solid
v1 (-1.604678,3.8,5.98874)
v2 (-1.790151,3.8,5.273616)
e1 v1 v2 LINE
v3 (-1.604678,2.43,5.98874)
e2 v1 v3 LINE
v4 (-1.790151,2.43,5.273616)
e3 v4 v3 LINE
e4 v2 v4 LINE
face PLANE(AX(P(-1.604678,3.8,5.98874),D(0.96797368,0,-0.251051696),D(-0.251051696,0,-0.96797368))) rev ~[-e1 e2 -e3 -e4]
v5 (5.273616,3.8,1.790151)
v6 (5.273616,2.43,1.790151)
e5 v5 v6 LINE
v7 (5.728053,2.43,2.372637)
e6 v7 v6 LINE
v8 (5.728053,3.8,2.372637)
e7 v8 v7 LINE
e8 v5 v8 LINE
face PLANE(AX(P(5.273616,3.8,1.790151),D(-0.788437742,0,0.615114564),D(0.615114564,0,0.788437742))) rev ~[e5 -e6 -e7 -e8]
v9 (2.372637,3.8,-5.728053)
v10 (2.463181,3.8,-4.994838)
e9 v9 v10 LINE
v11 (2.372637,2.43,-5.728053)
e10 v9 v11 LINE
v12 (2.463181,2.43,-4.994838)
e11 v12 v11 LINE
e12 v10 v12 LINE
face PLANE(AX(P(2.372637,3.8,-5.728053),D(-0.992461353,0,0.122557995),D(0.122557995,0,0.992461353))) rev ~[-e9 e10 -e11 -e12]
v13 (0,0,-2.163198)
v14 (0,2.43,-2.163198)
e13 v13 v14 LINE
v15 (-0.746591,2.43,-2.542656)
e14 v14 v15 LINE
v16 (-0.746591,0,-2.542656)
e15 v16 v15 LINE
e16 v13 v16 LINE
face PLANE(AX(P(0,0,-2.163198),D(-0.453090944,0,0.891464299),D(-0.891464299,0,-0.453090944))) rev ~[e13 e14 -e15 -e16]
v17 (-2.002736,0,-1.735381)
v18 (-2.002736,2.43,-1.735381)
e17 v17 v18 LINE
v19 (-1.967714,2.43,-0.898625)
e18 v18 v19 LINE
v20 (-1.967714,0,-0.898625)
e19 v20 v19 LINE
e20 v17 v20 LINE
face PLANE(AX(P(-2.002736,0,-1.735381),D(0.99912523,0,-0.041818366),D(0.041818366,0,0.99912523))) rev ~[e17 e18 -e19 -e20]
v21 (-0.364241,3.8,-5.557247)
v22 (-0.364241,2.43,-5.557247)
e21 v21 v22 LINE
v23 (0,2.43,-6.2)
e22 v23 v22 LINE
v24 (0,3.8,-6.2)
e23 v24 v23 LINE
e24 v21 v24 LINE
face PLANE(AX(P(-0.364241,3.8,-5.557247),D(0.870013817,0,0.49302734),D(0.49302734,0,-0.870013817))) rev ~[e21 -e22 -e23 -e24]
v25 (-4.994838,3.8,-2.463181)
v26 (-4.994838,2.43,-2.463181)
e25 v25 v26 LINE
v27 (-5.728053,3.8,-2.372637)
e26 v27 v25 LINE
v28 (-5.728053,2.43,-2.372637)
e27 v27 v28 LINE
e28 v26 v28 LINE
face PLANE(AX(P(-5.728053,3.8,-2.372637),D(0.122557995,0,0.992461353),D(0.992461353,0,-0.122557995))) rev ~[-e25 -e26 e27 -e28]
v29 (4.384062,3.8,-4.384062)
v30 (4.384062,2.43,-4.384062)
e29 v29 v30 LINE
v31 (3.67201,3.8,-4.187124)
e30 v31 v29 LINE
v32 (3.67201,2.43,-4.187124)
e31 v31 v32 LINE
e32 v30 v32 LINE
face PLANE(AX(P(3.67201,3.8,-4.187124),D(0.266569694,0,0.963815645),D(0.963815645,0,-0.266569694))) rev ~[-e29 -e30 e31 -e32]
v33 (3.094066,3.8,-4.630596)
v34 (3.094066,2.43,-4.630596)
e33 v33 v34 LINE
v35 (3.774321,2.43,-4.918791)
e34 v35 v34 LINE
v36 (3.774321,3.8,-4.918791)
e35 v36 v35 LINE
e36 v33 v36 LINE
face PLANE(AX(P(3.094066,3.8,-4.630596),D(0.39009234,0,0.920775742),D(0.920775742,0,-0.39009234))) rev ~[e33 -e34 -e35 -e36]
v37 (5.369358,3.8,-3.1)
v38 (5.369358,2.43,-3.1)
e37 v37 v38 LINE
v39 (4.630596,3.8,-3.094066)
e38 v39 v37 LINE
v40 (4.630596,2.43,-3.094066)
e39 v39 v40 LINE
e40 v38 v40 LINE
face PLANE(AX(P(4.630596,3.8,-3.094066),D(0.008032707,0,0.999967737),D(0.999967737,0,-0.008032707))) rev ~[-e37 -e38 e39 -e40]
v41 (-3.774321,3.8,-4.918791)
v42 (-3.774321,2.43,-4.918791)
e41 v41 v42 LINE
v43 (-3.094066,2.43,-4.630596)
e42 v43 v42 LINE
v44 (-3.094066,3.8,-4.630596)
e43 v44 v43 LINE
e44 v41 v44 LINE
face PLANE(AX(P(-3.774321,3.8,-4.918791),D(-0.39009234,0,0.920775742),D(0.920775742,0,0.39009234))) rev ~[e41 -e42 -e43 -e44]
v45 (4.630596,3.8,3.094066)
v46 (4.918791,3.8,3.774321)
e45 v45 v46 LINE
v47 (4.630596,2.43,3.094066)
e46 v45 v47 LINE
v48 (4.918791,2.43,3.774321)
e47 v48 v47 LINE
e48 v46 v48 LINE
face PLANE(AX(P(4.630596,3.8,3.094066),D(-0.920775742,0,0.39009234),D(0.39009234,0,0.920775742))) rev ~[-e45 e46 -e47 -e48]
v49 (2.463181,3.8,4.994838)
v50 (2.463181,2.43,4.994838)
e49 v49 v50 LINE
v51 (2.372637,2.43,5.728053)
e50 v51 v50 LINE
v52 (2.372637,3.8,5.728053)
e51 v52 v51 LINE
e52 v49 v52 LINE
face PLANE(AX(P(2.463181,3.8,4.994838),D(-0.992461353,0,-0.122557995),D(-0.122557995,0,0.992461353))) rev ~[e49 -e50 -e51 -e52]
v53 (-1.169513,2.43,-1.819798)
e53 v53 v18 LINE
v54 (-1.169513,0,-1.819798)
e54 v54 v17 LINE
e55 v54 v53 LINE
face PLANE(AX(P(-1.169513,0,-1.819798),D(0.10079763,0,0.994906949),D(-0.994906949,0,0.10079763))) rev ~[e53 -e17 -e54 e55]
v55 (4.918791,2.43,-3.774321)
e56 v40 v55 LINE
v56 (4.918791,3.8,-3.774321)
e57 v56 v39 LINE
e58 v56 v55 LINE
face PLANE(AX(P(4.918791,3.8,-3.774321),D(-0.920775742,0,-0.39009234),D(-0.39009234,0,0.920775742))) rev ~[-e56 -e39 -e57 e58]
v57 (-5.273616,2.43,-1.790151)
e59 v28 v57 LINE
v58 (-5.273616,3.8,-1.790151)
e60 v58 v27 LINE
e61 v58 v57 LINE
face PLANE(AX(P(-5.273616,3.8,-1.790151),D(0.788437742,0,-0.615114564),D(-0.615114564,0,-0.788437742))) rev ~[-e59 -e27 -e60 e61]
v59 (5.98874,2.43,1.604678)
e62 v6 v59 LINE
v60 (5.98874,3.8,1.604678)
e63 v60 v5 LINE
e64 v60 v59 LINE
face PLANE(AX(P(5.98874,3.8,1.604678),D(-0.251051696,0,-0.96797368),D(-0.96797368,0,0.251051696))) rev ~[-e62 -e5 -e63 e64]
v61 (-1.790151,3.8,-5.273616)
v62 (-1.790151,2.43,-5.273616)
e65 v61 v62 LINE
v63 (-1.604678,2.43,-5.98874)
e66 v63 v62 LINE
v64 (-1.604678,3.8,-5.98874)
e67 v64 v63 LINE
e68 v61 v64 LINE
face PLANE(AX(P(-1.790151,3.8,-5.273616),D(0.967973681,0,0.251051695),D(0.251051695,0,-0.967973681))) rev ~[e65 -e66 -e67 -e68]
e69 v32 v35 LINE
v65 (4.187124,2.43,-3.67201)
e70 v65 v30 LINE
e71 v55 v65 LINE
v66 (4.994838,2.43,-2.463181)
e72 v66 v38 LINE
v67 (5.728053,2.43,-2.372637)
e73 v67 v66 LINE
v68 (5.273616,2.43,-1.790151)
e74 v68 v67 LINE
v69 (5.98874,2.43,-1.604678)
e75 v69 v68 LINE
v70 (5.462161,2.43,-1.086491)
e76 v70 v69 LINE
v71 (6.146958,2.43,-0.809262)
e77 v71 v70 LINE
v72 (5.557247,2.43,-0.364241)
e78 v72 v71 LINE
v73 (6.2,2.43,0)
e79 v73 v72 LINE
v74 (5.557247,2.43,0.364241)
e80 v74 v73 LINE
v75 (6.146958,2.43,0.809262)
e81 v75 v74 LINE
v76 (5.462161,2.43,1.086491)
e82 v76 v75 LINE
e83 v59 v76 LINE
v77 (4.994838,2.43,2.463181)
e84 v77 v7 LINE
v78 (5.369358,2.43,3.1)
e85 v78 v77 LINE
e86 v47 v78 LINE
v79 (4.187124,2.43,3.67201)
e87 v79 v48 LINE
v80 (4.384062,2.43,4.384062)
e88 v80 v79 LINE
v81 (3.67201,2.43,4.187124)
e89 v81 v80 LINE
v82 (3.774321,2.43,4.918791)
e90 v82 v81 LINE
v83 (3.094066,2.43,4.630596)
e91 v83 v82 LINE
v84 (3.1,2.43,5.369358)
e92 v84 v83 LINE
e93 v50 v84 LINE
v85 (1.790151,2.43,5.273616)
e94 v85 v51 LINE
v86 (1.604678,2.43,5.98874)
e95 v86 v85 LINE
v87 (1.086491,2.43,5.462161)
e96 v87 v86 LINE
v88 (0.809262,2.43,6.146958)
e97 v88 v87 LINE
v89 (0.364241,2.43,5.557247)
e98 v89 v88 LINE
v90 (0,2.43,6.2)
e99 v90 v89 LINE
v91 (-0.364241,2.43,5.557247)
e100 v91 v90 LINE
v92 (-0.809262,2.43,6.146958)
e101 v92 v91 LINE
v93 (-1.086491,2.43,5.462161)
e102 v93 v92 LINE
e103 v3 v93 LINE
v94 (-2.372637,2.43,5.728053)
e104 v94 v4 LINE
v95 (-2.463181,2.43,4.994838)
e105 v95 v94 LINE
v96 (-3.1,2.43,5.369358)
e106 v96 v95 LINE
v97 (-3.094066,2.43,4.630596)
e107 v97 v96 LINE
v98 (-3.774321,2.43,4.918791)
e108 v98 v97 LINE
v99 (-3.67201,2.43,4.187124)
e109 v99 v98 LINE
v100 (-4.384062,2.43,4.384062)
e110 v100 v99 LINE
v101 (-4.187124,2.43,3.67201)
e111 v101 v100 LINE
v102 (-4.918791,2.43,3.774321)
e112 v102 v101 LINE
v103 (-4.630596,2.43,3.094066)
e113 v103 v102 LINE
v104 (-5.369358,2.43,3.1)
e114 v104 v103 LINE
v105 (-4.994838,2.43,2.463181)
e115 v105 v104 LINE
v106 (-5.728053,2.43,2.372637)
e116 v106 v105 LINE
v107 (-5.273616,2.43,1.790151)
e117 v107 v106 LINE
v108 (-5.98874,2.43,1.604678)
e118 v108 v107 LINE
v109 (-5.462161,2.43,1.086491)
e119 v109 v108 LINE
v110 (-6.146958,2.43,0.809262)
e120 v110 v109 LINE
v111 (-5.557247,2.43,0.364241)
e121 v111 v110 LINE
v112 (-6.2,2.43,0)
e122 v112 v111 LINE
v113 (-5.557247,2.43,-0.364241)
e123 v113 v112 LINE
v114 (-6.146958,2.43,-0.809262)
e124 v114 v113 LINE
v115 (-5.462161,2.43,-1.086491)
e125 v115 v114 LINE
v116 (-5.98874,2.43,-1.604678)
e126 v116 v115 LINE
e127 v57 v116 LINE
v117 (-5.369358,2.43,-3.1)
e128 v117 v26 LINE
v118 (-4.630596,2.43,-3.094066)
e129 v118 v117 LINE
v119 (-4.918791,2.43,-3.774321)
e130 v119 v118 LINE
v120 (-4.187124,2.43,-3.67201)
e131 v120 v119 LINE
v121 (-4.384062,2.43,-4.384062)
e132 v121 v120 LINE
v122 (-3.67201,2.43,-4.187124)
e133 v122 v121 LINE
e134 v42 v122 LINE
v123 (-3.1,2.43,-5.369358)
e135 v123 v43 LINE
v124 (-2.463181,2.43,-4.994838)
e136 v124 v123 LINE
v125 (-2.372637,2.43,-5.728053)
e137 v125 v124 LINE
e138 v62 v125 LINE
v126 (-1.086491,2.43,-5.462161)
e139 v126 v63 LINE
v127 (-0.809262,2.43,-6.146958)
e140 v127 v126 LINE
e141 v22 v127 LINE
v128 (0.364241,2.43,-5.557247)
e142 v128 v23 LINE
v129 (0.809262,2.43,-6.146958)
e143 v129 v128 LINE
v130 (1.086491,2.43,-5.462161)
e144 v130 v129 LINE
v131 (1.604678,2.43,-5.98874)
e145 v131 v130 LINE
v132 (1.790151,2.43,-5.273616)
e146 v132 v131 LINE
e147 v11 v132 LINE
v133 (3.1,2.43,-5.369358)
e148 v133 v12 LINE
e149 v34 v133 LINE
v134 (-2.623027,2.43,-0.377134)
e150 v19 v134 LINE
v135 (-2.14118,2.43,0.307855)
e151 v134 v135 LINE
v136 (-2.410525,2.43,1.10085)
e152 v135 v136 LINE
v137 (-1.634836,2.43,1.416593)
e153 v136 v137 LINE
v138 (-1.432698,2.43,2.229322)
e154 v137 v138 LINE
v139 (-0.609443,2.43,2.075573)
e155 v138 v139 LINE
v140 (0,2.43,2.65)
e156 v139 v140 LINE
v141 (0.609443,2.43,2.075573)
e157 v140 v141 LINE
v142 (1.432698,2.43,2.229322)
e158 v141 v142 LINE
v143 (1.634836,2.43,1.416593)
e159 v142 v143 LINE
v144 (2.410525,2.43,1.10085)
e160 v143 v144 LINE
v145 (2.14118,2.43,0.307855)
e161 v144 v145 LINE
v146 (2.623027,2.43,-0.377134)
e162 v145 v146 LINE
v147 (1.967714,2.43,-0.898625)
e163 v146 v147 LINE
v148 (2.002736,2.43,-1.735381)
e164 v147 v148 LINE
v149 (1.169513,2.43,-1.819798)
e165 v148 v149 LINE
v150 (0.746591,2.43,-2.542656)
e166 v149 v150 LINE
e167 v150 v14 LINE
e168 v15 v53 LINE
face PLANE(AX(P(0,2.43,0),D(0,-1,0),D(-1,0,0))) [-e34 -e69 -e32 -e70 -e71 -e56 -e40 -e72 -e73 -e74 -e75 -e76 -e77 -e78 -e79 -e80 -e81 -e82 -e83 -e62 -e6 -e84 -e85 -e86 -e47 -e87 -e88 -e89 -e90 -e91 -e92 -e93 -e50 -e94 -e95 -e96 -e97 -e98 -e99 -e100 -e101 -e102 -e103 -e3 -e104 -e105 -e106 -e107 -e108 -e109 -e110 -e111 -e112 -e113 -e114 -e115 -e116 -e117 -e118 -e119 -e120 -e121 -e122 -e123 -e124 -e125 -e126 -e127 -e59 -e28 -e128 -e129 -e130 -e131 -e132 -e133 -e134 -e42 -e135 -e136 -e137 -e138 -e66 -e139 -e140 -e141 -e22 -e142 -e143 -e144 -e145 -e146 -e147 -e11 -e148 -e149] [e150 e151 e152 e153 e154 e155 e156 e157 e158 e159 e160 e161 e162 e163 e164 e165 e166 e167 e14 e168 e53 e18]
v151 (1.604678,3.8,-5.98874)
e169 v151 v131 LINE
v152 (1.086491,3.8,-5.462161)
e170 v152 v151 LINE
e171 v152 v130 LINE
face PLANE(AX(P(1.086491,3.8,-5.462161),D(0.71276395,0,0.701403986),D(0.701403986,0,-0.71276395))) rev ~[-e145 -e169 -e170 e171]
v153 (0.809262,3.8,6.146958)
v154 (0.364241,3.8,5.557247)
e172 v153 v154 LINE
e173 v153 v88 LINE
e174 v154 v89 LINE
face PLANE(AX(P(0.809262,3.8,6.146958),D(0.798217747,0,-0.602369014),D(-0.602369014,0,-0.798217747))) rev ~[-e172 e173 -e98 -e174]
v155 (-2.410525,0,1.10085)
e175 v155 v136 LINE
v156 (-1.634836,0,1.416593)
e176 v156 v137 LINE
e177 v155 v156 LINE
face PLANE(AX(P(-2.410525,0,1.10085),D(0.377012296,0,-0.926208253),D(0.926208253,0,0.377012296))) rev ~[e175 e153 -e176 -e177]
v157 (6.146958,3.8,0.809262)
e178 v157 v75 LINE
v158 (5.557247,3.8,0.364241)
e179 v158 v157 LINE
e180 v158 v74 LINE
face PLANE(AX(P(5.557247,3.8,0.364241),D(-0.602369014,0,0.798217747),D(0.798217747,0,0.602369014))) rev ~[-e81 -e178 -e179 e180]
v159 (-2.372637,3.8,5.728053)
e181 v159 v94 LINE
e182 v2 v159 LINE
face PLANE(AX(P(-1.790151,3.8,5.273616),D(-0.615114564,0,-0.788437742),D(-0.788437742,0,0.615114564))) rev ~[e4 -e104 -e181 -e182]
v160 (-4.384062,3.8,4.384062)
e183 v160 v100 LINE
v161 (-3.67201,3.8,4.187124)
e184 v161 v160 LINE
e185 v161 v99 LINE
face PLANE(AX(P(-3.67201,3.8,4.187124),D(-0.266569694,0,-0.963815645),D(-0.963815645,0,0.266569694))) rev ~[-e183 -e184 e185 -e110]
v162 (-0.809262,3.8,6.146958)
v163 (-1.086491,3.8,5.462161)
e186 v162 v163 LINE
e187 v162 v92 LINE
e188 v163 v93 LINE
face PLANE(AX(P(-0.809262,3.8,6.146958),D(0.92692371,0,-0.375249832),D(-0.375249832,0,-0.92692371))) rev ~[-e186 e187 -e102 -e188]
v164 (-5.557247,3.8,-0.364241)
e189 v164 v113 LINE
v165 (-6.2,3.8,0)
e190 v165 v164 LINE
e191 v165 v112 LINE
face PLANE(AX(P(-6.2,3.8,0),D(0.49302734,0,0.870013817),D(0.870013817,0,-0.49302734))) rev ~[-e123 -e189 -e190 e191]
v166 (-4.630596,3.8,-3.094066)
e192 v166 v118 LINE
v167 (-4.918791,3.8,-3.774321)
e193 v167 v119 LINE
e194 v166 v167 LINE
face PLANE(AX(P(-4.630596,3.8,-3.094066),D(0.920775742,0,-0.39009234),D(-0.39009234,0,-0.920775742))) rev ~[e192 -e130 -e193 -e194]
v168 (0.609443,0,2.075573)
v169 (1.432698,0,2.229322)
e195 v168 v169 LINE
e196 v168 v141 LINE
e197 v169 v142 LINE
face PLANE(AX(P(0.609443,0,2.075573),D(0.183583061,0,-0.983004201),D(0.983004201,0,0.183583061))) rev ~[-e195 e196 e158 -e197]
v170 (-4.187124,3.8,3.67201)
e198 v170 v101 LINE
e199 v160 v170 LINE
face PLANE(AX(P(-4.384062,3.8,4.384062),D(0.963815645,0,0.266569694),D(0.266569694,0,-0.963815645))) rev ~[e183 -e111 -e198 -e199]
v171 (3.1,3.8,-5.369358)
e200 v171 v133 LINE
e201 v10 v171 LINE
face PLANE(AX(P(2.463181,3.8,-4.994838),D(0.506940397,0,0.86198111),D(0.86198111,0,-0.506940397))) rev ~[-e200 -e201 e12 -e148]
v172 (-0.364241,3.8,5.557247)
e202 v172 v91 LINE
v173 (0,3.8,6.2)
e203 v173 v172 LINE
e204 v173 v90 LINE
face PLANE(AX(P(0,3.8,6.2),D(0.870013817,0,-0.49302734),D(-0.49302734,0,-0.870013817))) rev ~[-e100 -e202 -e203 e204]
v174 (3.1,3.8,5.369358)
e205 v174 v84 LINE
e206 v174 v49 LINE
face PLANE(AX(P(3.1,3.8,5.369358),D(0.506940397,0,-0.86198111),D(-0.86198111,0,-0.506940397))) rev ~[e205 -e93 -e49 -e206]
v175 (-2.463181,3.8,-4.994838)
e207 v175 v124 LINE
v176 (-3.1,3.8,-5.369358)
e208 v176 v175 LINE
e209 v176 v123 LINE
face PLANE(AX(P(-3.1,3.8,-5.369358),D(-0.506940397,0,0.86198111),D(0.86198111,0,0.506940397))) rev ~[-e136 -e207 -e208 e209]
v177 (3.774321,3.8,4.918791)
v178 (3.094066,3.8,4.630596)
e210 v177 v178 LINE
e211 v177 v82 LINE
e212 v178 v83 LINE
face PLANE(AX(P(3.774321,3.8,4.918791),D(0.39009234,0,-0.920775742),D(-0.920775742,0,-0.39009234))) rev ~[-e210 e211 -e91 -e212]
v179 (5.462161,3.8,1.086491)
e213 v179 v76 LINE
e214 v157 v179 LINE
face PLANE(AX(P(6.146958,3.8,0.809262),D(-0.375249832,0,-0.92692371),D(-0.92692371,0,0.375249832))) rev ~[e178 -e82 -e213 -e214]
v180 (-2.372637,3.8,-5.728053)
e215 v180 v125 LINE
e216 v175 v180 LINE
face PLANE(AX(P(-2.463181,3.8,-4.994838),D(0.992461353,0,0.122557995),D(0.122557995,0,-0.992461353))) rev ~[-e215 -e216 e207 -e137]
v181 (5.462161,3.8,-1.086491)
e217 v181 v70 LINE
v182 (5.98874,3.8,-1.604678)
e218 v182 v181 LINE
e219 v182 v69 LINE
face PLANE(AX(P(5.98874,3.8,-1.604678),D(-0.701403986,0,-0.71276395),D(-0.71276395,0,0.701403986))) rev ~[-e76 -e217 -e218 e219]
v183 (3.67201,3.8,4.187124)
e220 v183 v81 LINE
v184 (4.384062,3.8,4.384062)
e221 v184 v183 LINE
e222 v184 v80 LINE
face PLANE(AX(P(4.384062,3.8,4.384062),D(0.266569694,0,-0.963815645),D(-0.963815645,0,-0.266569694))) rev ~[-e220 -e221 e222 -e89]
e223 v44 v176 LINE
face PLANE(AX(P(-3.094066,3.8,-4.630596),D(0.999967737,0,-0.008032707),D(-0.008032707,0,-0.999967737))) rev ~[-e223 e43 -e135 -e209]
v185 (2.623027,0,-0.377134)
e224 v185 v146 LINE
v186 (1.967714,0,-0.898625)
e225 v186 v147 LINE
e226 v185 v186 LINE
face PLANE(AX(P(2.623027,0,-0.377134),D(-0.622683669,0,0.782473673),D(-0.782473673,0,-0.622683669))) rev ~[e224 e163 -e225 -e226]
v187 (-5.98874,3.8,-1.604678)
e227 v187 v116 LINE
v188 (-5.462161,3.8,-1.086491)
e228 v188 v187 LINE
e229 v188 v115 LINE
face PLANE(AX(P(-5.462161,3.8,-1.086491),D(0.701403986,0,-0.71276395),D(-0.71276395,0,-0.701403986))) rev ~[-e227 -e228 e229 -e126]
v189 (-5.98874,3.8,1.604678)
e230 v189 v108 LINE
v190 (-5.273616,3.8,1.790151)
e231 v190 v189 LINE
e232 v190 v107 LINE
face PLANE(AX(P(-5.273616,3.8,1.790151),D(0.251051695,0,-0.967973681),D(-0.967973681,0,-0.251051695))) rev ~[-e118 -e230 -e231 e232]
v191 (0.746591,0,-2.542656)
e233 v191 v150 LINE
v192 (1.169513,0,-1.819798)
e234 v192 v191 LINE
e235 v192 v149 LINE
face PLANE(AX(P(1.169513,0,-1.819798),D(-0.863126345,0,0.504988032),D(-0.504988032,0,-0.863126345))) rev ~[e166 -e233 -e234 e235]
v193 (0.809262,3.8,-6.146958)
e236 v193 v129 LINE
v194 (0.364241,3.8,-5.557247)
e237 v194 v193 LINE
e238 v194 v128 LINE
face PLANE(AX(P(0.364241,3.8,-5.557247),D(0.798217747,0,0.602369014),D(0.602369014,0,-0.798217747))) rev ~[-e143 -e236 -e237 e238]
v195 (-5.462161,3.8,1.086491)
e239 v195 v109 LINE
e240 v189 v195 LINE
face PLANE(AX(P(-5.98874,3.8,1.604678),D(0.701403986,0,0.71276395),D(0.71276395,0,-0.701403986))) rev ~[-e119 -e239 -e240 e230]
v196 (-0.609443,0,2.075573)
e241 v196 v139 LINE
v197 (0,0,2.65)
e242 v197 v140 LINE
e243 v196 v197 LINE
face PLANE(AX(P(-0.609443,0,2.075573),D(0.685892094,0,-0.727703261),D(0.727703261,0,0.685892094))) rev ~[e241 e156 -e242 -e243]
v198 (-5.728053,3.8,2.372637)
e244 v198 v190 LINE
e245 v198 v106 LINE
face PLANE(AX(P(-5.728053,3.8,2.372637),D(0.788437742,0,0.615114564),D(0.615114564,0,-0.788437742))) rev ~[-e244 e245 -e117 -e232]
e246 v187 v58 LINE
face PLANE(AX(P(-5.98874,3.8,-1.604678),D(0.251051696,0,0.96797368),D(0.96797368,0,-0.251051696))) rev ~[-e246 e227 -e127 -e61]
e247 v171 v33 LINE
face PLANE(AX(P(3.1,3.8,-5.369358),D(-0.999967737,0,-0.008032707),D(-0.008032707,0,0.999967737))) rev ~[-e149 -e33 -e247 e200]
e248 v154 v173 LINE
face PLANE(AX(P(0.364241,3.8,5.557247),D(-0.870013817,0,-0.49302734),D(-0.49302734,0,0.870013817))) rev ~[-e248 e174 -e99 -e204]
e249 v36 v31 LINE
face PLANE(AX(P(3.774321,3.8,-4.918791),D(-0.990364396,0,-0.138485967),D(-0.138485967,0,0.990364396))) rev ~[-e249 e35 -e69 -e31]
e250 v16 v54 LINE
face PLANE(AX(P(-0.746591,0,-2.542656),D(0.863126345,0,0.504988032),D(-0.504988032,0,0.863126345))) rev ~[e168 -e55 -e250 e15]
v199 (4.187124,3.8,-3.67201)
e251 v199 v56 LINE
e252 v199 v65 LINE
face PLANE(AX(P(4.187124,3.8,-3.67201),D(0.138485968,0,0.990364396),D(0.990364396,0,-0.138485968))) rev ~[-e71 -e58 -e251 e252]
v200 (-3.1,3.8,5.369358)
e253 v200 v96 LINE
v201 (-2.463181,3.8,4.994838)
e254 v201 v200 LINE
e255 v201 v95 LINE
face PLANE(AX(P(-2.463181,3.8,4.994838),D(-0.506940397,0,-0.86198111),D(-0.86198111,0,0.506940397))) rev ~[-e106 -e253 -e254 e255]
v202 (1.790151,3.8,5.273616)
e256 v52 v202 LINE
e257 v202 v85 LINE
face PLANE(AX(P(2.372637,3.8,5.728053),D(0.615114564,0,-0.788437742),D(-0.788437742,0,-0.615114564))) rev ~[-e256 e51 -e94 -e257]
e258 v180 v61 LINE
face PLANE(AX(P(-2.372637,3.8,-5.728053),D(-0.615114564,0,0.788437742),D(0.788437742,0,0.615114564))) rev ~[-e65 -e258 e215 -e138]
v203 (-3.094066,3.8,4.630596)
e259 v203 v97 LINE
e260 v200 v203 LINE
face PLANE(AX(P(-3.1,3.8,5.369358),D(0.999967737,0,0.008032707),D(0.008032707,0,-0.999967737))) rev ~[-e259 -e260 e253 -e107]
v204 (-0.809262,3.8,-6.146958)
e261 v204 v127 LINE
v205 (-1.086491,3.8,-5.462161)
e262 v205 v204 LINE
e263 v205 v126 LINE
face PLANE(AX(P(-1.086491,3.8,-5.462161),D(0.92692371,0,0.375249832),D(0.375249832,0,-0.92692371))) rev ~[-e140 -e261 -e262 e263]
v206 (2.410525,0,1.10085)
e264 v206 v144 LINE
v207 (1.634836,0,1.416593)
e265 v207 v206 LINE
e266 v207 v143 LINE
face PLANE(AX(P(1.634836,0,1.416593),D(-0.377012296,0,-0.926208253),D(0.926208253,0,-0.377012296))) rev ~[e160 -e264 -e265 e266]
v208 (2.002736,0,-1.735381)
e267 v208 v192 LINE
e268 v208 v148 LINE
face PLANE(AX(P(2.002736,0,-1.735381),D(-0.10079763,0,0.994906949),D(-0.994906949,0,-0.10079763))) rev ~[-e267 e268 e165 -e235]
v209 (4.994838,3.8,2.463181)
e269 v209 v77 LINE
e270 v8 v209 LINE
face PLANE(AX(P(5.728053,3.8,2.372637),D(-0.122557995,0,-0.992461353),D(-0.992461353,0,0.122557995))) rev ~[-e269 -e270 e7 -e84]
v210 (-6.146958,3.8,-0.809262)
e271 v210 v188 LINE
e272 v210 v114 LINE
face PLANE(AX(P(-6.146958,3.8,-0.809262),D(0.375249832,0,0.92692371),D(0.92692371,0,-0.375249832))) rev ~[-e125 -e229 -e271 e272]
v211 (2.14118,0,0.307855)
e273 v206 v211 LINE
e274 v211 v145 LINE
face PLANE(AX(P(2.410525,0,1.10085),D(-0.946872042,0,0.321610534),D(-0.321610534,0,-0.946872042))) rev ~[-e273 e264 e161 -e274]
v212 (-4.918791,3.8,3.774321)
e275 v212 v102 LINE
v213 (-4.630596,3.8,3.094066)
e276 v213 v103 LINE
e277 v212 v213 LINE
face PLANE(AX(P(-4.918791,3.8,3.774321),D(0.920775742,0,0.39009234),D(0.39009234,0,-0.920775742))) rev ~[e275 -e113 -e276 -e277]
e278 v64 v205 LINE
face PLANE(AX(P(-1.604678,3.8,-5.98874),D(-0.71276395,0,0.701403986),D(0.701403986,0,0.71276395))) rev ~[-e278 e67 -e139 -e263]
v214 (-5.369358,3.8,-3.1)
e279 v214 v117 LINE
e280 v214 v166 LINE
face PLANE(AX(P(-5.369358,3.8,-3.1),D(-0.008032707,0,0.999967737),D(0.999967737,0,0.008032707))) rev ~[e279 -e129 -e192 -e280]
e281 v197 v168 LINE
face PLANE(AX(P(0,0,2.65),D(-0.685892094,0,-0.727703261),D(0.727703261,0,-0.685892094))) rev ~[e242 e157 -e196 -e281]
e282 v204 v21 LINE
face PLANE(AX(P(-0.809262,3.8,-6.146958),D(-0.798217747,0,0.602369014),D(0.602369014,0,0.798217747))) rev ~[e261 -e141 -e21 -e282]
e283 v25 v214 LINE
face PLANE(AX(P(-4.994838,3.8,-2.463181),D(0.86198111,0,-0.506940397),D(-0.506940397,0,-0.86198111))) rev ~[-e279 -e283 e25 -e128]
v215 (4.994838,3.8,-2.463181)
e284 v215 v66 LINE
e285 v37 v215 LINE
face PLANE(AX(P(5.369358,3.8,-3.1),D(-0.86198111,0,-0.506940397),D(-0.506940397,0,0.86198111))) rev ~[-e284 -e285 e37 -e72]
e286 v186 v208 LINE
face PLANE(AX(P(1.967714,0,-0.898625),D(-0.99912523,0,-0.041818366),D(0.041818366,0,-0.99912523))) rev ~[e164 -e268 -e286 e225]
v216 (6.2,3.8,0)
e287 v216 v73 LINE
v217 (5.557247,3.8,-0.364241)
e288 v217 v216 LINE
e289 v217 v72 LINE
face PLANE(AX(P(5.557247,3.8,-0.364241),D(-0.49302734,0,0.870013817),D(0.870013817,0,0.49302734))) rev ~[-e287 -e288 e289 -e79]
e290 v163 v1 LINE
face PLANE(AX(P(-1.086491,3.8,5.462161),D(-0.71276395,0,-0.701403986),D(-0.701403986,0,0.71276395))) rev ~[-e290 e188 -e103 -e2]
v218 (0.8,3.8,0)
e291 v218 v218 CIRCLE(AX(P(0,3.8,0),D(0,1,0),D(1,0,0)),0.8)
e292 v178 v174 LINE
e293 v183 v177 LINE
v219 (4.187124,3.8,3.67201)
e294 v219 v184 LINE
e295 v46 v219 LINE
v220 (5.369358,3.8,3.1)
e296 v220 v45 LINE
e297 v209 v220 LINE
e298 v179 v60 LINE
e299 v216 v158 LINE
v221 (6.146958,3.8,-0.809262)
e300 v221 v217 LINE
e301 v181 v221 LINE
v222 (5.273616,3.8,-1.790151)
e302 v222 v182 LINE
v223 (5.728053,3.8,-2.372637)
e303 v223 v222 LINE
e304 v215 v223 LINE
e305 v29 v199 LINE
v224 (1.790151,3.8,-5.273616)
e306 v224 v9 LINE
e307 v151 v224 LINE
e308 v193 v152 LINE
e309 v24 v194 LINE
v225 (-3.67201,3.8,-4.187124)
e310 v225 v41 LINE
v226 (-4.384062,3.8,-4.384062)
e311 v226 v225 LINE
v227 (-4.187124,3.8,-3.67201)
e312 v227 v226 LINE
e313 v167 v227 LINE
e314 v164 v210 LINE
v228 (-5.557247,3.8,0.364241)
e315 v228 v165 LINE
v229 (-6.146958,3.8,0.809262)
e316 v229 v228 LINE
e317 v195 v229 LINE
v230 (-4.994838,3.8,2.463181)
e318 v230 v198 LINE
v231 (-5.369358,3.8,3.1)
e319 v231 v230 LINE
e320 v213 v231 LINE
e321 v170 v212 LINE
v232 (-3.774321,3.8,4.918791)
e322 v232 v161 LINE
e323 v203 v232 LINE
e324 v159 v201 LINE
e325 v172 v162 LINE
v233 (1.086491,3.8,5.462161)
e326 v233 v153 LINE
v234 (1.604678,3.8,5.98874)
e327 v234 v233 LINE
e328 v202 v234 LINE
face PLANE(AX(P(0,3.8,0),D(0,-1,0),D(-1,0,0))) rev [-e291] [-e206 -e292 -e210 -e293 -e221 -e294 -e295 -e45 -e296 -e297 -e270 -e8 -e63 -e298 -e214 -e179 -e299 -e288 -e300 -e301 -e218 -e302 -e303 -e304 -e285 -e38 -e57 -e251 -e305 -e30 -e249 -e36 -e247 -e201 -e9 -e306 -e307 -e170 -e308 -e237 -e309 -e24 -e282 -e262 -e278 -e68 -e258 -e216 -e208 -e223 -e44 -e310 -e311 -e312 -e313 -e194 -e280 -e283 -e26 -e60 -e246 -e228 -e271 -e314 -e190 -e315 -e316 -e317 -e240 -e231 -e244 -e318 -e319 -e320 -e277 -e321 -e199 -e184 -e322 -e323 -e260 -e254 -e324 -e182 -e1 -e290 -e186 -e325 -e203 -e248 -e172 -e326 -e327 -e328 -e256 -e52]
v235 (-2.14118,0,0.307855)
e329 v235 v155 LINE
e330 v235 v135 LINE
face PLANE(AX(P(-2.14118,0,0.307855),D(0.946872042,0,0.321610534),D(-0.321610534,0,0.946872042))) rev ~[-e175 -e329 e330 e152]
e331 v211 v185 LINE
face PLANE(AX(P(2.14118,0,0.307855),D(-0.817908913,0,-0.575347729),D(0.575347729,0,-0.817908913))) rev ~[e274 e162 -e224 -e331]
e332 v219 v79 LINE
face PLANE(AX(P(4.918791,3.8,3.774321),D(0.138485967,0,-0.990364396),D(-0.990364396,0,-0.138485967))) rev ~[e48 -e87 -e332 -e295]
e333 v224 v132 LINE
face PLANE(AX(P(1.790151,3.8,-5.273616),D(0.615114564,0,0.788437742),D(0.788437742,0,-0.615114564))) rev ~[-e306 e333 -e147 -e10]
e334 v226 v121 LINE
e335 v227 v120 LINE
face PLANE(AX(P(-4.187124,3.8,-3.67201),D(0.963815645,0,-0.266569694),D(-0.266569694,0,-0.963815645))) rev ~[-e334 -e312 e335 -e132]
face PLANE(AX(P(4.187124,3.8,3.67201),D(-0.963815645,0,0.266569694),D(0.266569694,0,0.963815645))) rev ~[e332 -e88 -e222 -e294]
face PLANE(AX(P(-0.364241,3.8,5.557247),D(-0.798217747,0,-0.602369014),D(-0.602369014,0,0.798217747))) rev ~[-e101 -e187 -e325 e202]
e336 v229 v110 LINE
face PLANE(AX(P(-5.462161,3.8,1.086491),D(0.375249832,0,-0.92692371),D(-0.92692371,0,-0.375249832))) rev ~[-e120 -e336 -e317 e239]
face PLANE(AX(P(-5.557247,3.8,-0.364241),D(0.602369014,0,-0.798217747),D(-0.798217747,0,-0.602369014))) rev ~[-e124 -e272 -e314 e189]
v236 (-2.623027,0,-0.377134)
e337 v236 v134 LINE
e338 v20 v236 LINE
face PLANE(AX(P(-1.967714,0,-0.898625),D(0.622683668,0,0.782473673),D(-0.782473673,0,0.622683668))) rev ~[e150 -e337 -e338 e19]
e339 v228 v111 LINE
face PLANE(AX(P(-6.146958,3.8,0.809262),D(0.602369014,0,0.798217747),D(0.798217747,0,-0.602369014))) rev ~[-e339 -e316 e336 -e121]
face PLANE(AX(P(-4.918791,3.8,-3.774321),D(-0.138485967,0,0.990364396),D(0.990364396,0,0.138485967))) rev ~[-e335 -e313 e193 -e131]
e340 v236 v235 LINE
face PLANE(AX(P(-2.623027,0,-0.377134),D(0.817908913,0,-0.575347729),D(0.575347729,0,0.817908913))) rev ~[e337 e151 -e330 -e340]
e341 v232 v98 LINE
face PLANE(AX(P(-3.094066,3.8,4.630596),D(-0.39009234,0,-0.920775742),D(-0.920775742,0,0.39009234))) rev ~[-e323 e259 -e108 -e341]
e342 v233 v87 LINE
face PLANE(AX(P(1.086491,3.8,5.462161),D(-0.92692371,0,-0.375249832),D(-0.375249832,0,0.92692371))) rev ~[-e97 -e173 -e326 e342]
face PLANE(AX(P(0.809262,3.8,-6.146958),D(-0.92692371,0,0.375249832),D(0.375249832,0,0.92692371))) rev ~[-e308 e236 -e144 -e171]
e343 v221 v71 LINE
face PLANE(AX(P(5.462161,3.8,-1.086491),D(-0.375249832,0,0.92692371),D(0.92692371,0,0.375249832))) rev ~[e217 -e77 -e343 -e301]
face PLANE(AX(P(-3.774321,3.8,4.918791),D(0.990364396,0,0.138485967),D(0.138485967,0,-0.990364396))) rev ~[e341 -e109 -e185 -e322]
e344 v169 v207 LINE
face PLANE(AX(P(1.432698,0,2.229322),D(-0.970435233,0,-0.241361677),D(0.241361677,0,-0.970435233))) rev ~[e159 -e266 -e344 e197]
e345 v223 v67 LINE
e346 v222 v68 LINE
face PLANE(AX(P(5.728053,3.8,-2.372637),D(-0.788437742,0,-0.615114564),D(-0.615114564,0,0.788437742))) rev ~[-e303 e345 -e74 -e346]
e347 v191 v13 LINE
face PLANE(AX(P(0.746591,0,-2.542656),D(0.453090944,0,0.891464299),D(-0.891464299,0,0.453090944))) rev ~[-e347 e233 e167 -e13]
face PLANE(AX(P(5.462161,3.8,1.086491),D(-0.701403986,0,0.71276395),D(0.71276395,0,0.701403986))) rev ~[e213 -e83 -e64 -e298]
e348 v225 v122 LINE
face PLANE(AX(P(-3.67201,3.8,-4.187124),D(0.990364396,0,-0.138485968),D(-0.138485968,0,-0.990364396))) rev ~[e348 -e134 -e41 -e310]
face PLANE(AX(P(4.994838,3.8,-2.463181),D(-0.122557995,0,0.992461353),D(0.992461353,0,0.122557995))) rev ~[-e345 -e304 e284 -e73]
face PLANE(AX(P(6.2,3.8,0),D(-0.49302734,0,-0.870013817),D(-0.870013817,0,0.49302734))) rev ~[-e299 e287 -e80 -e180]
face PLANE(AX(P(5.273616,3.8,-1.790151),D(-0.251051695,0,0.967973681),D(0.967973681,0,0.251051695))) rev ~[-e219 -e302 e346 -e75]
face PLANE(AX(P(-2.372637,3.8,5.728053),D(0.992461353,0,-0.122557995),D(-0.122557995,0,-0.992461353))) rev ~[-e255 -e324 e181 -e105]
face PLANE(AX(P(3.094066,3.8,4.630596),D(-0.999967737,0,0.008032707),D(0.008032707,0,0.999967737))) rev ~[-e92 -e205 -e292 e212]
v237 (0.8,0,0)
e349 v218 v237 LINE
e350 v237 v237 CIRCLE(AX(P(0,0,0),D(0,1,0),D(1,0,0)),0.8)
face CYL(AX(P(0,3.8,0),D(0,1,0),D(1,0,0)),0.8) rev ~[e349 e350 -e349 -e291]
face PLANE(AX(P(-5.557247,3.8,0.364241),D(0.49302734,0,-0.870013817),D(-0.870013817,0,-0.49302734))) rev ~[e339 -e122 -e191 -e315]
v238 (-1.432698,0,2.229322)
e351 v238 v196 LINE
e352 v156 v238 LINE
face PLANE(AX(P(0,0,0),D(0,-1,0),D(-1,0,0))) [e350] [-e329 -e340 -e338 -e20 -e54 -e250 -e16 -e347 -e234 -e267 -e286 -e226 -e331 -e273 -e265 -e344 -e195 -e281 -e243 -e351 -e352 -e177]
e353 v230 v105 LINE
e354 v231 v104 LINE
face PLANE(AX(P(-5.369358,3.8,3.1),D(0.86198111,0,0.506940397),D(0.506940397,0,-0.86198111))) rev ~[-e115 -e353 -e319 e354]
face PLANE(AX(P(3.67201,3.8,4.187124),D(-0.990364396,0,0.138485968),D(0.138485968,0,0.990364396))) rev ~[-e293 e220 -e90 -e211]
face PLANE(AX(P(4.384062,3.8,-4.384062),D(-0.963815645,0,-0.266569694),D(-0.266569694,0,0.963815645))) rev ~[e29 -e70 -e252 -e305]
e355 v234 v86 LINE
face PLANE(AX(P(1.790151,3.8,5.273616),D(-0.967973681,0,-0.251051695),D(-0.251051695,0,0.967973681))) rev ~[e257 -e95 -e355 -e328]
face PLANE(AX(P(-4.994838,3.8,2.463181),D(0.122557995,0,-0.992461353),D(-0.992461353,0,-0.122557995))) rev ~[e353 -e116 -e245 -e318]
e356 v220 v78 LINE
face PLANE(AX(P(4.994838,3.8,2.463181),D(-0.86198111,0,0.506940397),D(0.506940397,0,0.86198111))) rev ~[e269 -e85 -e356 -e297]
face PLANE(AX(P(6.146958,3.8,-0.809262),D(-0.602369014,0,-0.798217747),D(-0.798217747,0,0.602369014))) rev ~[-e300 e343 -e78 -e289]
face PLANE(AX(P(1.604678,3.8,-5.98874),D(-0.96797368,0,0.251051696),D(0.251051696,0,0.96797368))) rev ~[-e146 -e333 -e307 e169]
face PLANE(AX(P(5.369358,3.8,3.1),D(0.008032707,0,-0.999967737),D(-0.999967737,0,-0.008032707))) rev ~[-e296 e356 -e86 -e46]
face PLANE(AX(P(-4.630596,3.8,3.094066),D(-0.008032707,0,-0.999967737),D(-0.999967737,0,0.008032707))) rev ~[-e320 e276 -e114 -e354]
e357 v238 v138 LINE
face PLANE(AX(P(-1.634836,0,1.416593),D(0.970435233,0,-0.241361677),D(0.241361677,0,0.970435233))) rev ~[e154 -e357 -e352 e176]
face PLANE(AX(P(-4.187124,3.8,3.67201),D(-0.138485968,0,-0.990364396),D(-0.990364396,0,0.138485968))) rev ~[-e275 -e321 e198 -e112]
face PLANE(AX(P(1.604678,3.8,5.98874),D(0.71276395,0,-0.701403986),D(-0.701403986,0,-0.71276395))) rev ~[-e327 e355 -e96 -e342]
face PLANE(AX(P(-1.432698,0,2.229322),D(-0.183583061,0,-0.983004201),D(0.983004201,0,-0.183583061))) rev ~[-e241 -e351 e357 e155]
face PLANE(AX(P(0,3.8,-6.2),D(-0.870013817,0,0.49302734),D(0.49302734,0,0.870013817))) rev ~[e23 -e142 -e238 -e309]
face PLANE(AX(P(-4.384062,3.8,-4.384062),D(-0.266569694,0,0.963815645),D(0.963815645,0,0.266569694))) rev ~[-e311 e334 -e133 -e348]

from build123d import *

# Parameters (mm, degrees)
SKETCH2_R          = 0.8
CUT_EXTRUDE1_DEPTH = 4.8
CUT_EXTRUDE2_DEPTH = 4.8
CIRPATTERN1_COUNT  = 48
CUT_EXTRUDE3_DEPTH = 2.43
CIRPATTERN2_COUNT  = 11


with BuildPart() as part:
    # Sketch1 → Revolve1 (revolve)
    with BuildSketch(Plane.XY):
        Polygon((-6.2, 3.8), (-6.2, 2.43), (-2.65, 2.43), (-2.65, 0), (0, 0), (0, 3.8), align=None)
    revolve(axis=Axis((0, 3.8, 0), (0, -1, 0)))

    # Sketch2 → Cut-Extrude1 (cut, through all)
    with BuildSketch(Plane(origin=(0, 3.8, 0), x_dir=(1, 0, 0), z_dir=(0, 1, 0))):
        Circle(SKETCH2_R)
    extrude(amount=-CUT_EXTRUDE1_DEPTH, mode=Mode.SUBTRACT)

    # Sketch3 → Cut-Extrude2 (cut, through all)
    with BuildSketch(Plane(origin=(0, 3.8, 0), x_dir=(1, 0, 0), z_dir=(0, 1, 0))):
        with BuildLine():
            Line((0, 6.2), (0.364241202, 5.557246845))
            Line((0.364241202, 5.557246845), (0.809262392, 6.146958141))
            ThreePointArc((0.809262392, 6.146958141), (0.405499401, 6.186725324), (0, 6.2))
        make_face()
    cut_extrude2 = extrude(amount=-CUT_EXTRUDE2_DEPTH, mode=Mode.SUBTRACT)

    # CirPattern1: Cut-Extrude2 ×48 about axis
    cirpattern1_axis = Axis((0, 0, 0), (0, 1, 0))
    for i in range(1, CIRPATTERN1_COUNT):
        add(cut_extrude2.rotate(cirpattern1_axis, i * 360 / CIRPATTERN1_COUNT), mode=Mode.SUBTRACT)

    # Sketch4 → Cut-Extrude3 (cut)
    with BuildSketch(Plane.XZ):
        with BuildLine():
            Line((0, 2.65), (0.609443257, 2.075573123))
            Line((0.609443257, 2.075573123), (1.432698166, 2.229321862))
            ThreePointArc((1.432698166, 2.229321862), (0.746591276, 2.54265638), (0, 2.65))
        make_face()
    cut_extrude3 = extrude(amount=-CUT_EXTRUDE3_DEPTH, mode=Mode.SUBTRACT)

    # CirPattern2: Cut-Extrude3 ×11 about axis
    cirpattern2_axis = Axis((0, 0, 0), (0, 1, 0))
    for i in range(1, CIRPATTERN2_COUNT):
        add(cut_extrude3.rotate(cirpattern2_axis, i * 360 / CIRPATTERN2_COUNT), mode=Mode.SUBTRACT)


solid = part.part
